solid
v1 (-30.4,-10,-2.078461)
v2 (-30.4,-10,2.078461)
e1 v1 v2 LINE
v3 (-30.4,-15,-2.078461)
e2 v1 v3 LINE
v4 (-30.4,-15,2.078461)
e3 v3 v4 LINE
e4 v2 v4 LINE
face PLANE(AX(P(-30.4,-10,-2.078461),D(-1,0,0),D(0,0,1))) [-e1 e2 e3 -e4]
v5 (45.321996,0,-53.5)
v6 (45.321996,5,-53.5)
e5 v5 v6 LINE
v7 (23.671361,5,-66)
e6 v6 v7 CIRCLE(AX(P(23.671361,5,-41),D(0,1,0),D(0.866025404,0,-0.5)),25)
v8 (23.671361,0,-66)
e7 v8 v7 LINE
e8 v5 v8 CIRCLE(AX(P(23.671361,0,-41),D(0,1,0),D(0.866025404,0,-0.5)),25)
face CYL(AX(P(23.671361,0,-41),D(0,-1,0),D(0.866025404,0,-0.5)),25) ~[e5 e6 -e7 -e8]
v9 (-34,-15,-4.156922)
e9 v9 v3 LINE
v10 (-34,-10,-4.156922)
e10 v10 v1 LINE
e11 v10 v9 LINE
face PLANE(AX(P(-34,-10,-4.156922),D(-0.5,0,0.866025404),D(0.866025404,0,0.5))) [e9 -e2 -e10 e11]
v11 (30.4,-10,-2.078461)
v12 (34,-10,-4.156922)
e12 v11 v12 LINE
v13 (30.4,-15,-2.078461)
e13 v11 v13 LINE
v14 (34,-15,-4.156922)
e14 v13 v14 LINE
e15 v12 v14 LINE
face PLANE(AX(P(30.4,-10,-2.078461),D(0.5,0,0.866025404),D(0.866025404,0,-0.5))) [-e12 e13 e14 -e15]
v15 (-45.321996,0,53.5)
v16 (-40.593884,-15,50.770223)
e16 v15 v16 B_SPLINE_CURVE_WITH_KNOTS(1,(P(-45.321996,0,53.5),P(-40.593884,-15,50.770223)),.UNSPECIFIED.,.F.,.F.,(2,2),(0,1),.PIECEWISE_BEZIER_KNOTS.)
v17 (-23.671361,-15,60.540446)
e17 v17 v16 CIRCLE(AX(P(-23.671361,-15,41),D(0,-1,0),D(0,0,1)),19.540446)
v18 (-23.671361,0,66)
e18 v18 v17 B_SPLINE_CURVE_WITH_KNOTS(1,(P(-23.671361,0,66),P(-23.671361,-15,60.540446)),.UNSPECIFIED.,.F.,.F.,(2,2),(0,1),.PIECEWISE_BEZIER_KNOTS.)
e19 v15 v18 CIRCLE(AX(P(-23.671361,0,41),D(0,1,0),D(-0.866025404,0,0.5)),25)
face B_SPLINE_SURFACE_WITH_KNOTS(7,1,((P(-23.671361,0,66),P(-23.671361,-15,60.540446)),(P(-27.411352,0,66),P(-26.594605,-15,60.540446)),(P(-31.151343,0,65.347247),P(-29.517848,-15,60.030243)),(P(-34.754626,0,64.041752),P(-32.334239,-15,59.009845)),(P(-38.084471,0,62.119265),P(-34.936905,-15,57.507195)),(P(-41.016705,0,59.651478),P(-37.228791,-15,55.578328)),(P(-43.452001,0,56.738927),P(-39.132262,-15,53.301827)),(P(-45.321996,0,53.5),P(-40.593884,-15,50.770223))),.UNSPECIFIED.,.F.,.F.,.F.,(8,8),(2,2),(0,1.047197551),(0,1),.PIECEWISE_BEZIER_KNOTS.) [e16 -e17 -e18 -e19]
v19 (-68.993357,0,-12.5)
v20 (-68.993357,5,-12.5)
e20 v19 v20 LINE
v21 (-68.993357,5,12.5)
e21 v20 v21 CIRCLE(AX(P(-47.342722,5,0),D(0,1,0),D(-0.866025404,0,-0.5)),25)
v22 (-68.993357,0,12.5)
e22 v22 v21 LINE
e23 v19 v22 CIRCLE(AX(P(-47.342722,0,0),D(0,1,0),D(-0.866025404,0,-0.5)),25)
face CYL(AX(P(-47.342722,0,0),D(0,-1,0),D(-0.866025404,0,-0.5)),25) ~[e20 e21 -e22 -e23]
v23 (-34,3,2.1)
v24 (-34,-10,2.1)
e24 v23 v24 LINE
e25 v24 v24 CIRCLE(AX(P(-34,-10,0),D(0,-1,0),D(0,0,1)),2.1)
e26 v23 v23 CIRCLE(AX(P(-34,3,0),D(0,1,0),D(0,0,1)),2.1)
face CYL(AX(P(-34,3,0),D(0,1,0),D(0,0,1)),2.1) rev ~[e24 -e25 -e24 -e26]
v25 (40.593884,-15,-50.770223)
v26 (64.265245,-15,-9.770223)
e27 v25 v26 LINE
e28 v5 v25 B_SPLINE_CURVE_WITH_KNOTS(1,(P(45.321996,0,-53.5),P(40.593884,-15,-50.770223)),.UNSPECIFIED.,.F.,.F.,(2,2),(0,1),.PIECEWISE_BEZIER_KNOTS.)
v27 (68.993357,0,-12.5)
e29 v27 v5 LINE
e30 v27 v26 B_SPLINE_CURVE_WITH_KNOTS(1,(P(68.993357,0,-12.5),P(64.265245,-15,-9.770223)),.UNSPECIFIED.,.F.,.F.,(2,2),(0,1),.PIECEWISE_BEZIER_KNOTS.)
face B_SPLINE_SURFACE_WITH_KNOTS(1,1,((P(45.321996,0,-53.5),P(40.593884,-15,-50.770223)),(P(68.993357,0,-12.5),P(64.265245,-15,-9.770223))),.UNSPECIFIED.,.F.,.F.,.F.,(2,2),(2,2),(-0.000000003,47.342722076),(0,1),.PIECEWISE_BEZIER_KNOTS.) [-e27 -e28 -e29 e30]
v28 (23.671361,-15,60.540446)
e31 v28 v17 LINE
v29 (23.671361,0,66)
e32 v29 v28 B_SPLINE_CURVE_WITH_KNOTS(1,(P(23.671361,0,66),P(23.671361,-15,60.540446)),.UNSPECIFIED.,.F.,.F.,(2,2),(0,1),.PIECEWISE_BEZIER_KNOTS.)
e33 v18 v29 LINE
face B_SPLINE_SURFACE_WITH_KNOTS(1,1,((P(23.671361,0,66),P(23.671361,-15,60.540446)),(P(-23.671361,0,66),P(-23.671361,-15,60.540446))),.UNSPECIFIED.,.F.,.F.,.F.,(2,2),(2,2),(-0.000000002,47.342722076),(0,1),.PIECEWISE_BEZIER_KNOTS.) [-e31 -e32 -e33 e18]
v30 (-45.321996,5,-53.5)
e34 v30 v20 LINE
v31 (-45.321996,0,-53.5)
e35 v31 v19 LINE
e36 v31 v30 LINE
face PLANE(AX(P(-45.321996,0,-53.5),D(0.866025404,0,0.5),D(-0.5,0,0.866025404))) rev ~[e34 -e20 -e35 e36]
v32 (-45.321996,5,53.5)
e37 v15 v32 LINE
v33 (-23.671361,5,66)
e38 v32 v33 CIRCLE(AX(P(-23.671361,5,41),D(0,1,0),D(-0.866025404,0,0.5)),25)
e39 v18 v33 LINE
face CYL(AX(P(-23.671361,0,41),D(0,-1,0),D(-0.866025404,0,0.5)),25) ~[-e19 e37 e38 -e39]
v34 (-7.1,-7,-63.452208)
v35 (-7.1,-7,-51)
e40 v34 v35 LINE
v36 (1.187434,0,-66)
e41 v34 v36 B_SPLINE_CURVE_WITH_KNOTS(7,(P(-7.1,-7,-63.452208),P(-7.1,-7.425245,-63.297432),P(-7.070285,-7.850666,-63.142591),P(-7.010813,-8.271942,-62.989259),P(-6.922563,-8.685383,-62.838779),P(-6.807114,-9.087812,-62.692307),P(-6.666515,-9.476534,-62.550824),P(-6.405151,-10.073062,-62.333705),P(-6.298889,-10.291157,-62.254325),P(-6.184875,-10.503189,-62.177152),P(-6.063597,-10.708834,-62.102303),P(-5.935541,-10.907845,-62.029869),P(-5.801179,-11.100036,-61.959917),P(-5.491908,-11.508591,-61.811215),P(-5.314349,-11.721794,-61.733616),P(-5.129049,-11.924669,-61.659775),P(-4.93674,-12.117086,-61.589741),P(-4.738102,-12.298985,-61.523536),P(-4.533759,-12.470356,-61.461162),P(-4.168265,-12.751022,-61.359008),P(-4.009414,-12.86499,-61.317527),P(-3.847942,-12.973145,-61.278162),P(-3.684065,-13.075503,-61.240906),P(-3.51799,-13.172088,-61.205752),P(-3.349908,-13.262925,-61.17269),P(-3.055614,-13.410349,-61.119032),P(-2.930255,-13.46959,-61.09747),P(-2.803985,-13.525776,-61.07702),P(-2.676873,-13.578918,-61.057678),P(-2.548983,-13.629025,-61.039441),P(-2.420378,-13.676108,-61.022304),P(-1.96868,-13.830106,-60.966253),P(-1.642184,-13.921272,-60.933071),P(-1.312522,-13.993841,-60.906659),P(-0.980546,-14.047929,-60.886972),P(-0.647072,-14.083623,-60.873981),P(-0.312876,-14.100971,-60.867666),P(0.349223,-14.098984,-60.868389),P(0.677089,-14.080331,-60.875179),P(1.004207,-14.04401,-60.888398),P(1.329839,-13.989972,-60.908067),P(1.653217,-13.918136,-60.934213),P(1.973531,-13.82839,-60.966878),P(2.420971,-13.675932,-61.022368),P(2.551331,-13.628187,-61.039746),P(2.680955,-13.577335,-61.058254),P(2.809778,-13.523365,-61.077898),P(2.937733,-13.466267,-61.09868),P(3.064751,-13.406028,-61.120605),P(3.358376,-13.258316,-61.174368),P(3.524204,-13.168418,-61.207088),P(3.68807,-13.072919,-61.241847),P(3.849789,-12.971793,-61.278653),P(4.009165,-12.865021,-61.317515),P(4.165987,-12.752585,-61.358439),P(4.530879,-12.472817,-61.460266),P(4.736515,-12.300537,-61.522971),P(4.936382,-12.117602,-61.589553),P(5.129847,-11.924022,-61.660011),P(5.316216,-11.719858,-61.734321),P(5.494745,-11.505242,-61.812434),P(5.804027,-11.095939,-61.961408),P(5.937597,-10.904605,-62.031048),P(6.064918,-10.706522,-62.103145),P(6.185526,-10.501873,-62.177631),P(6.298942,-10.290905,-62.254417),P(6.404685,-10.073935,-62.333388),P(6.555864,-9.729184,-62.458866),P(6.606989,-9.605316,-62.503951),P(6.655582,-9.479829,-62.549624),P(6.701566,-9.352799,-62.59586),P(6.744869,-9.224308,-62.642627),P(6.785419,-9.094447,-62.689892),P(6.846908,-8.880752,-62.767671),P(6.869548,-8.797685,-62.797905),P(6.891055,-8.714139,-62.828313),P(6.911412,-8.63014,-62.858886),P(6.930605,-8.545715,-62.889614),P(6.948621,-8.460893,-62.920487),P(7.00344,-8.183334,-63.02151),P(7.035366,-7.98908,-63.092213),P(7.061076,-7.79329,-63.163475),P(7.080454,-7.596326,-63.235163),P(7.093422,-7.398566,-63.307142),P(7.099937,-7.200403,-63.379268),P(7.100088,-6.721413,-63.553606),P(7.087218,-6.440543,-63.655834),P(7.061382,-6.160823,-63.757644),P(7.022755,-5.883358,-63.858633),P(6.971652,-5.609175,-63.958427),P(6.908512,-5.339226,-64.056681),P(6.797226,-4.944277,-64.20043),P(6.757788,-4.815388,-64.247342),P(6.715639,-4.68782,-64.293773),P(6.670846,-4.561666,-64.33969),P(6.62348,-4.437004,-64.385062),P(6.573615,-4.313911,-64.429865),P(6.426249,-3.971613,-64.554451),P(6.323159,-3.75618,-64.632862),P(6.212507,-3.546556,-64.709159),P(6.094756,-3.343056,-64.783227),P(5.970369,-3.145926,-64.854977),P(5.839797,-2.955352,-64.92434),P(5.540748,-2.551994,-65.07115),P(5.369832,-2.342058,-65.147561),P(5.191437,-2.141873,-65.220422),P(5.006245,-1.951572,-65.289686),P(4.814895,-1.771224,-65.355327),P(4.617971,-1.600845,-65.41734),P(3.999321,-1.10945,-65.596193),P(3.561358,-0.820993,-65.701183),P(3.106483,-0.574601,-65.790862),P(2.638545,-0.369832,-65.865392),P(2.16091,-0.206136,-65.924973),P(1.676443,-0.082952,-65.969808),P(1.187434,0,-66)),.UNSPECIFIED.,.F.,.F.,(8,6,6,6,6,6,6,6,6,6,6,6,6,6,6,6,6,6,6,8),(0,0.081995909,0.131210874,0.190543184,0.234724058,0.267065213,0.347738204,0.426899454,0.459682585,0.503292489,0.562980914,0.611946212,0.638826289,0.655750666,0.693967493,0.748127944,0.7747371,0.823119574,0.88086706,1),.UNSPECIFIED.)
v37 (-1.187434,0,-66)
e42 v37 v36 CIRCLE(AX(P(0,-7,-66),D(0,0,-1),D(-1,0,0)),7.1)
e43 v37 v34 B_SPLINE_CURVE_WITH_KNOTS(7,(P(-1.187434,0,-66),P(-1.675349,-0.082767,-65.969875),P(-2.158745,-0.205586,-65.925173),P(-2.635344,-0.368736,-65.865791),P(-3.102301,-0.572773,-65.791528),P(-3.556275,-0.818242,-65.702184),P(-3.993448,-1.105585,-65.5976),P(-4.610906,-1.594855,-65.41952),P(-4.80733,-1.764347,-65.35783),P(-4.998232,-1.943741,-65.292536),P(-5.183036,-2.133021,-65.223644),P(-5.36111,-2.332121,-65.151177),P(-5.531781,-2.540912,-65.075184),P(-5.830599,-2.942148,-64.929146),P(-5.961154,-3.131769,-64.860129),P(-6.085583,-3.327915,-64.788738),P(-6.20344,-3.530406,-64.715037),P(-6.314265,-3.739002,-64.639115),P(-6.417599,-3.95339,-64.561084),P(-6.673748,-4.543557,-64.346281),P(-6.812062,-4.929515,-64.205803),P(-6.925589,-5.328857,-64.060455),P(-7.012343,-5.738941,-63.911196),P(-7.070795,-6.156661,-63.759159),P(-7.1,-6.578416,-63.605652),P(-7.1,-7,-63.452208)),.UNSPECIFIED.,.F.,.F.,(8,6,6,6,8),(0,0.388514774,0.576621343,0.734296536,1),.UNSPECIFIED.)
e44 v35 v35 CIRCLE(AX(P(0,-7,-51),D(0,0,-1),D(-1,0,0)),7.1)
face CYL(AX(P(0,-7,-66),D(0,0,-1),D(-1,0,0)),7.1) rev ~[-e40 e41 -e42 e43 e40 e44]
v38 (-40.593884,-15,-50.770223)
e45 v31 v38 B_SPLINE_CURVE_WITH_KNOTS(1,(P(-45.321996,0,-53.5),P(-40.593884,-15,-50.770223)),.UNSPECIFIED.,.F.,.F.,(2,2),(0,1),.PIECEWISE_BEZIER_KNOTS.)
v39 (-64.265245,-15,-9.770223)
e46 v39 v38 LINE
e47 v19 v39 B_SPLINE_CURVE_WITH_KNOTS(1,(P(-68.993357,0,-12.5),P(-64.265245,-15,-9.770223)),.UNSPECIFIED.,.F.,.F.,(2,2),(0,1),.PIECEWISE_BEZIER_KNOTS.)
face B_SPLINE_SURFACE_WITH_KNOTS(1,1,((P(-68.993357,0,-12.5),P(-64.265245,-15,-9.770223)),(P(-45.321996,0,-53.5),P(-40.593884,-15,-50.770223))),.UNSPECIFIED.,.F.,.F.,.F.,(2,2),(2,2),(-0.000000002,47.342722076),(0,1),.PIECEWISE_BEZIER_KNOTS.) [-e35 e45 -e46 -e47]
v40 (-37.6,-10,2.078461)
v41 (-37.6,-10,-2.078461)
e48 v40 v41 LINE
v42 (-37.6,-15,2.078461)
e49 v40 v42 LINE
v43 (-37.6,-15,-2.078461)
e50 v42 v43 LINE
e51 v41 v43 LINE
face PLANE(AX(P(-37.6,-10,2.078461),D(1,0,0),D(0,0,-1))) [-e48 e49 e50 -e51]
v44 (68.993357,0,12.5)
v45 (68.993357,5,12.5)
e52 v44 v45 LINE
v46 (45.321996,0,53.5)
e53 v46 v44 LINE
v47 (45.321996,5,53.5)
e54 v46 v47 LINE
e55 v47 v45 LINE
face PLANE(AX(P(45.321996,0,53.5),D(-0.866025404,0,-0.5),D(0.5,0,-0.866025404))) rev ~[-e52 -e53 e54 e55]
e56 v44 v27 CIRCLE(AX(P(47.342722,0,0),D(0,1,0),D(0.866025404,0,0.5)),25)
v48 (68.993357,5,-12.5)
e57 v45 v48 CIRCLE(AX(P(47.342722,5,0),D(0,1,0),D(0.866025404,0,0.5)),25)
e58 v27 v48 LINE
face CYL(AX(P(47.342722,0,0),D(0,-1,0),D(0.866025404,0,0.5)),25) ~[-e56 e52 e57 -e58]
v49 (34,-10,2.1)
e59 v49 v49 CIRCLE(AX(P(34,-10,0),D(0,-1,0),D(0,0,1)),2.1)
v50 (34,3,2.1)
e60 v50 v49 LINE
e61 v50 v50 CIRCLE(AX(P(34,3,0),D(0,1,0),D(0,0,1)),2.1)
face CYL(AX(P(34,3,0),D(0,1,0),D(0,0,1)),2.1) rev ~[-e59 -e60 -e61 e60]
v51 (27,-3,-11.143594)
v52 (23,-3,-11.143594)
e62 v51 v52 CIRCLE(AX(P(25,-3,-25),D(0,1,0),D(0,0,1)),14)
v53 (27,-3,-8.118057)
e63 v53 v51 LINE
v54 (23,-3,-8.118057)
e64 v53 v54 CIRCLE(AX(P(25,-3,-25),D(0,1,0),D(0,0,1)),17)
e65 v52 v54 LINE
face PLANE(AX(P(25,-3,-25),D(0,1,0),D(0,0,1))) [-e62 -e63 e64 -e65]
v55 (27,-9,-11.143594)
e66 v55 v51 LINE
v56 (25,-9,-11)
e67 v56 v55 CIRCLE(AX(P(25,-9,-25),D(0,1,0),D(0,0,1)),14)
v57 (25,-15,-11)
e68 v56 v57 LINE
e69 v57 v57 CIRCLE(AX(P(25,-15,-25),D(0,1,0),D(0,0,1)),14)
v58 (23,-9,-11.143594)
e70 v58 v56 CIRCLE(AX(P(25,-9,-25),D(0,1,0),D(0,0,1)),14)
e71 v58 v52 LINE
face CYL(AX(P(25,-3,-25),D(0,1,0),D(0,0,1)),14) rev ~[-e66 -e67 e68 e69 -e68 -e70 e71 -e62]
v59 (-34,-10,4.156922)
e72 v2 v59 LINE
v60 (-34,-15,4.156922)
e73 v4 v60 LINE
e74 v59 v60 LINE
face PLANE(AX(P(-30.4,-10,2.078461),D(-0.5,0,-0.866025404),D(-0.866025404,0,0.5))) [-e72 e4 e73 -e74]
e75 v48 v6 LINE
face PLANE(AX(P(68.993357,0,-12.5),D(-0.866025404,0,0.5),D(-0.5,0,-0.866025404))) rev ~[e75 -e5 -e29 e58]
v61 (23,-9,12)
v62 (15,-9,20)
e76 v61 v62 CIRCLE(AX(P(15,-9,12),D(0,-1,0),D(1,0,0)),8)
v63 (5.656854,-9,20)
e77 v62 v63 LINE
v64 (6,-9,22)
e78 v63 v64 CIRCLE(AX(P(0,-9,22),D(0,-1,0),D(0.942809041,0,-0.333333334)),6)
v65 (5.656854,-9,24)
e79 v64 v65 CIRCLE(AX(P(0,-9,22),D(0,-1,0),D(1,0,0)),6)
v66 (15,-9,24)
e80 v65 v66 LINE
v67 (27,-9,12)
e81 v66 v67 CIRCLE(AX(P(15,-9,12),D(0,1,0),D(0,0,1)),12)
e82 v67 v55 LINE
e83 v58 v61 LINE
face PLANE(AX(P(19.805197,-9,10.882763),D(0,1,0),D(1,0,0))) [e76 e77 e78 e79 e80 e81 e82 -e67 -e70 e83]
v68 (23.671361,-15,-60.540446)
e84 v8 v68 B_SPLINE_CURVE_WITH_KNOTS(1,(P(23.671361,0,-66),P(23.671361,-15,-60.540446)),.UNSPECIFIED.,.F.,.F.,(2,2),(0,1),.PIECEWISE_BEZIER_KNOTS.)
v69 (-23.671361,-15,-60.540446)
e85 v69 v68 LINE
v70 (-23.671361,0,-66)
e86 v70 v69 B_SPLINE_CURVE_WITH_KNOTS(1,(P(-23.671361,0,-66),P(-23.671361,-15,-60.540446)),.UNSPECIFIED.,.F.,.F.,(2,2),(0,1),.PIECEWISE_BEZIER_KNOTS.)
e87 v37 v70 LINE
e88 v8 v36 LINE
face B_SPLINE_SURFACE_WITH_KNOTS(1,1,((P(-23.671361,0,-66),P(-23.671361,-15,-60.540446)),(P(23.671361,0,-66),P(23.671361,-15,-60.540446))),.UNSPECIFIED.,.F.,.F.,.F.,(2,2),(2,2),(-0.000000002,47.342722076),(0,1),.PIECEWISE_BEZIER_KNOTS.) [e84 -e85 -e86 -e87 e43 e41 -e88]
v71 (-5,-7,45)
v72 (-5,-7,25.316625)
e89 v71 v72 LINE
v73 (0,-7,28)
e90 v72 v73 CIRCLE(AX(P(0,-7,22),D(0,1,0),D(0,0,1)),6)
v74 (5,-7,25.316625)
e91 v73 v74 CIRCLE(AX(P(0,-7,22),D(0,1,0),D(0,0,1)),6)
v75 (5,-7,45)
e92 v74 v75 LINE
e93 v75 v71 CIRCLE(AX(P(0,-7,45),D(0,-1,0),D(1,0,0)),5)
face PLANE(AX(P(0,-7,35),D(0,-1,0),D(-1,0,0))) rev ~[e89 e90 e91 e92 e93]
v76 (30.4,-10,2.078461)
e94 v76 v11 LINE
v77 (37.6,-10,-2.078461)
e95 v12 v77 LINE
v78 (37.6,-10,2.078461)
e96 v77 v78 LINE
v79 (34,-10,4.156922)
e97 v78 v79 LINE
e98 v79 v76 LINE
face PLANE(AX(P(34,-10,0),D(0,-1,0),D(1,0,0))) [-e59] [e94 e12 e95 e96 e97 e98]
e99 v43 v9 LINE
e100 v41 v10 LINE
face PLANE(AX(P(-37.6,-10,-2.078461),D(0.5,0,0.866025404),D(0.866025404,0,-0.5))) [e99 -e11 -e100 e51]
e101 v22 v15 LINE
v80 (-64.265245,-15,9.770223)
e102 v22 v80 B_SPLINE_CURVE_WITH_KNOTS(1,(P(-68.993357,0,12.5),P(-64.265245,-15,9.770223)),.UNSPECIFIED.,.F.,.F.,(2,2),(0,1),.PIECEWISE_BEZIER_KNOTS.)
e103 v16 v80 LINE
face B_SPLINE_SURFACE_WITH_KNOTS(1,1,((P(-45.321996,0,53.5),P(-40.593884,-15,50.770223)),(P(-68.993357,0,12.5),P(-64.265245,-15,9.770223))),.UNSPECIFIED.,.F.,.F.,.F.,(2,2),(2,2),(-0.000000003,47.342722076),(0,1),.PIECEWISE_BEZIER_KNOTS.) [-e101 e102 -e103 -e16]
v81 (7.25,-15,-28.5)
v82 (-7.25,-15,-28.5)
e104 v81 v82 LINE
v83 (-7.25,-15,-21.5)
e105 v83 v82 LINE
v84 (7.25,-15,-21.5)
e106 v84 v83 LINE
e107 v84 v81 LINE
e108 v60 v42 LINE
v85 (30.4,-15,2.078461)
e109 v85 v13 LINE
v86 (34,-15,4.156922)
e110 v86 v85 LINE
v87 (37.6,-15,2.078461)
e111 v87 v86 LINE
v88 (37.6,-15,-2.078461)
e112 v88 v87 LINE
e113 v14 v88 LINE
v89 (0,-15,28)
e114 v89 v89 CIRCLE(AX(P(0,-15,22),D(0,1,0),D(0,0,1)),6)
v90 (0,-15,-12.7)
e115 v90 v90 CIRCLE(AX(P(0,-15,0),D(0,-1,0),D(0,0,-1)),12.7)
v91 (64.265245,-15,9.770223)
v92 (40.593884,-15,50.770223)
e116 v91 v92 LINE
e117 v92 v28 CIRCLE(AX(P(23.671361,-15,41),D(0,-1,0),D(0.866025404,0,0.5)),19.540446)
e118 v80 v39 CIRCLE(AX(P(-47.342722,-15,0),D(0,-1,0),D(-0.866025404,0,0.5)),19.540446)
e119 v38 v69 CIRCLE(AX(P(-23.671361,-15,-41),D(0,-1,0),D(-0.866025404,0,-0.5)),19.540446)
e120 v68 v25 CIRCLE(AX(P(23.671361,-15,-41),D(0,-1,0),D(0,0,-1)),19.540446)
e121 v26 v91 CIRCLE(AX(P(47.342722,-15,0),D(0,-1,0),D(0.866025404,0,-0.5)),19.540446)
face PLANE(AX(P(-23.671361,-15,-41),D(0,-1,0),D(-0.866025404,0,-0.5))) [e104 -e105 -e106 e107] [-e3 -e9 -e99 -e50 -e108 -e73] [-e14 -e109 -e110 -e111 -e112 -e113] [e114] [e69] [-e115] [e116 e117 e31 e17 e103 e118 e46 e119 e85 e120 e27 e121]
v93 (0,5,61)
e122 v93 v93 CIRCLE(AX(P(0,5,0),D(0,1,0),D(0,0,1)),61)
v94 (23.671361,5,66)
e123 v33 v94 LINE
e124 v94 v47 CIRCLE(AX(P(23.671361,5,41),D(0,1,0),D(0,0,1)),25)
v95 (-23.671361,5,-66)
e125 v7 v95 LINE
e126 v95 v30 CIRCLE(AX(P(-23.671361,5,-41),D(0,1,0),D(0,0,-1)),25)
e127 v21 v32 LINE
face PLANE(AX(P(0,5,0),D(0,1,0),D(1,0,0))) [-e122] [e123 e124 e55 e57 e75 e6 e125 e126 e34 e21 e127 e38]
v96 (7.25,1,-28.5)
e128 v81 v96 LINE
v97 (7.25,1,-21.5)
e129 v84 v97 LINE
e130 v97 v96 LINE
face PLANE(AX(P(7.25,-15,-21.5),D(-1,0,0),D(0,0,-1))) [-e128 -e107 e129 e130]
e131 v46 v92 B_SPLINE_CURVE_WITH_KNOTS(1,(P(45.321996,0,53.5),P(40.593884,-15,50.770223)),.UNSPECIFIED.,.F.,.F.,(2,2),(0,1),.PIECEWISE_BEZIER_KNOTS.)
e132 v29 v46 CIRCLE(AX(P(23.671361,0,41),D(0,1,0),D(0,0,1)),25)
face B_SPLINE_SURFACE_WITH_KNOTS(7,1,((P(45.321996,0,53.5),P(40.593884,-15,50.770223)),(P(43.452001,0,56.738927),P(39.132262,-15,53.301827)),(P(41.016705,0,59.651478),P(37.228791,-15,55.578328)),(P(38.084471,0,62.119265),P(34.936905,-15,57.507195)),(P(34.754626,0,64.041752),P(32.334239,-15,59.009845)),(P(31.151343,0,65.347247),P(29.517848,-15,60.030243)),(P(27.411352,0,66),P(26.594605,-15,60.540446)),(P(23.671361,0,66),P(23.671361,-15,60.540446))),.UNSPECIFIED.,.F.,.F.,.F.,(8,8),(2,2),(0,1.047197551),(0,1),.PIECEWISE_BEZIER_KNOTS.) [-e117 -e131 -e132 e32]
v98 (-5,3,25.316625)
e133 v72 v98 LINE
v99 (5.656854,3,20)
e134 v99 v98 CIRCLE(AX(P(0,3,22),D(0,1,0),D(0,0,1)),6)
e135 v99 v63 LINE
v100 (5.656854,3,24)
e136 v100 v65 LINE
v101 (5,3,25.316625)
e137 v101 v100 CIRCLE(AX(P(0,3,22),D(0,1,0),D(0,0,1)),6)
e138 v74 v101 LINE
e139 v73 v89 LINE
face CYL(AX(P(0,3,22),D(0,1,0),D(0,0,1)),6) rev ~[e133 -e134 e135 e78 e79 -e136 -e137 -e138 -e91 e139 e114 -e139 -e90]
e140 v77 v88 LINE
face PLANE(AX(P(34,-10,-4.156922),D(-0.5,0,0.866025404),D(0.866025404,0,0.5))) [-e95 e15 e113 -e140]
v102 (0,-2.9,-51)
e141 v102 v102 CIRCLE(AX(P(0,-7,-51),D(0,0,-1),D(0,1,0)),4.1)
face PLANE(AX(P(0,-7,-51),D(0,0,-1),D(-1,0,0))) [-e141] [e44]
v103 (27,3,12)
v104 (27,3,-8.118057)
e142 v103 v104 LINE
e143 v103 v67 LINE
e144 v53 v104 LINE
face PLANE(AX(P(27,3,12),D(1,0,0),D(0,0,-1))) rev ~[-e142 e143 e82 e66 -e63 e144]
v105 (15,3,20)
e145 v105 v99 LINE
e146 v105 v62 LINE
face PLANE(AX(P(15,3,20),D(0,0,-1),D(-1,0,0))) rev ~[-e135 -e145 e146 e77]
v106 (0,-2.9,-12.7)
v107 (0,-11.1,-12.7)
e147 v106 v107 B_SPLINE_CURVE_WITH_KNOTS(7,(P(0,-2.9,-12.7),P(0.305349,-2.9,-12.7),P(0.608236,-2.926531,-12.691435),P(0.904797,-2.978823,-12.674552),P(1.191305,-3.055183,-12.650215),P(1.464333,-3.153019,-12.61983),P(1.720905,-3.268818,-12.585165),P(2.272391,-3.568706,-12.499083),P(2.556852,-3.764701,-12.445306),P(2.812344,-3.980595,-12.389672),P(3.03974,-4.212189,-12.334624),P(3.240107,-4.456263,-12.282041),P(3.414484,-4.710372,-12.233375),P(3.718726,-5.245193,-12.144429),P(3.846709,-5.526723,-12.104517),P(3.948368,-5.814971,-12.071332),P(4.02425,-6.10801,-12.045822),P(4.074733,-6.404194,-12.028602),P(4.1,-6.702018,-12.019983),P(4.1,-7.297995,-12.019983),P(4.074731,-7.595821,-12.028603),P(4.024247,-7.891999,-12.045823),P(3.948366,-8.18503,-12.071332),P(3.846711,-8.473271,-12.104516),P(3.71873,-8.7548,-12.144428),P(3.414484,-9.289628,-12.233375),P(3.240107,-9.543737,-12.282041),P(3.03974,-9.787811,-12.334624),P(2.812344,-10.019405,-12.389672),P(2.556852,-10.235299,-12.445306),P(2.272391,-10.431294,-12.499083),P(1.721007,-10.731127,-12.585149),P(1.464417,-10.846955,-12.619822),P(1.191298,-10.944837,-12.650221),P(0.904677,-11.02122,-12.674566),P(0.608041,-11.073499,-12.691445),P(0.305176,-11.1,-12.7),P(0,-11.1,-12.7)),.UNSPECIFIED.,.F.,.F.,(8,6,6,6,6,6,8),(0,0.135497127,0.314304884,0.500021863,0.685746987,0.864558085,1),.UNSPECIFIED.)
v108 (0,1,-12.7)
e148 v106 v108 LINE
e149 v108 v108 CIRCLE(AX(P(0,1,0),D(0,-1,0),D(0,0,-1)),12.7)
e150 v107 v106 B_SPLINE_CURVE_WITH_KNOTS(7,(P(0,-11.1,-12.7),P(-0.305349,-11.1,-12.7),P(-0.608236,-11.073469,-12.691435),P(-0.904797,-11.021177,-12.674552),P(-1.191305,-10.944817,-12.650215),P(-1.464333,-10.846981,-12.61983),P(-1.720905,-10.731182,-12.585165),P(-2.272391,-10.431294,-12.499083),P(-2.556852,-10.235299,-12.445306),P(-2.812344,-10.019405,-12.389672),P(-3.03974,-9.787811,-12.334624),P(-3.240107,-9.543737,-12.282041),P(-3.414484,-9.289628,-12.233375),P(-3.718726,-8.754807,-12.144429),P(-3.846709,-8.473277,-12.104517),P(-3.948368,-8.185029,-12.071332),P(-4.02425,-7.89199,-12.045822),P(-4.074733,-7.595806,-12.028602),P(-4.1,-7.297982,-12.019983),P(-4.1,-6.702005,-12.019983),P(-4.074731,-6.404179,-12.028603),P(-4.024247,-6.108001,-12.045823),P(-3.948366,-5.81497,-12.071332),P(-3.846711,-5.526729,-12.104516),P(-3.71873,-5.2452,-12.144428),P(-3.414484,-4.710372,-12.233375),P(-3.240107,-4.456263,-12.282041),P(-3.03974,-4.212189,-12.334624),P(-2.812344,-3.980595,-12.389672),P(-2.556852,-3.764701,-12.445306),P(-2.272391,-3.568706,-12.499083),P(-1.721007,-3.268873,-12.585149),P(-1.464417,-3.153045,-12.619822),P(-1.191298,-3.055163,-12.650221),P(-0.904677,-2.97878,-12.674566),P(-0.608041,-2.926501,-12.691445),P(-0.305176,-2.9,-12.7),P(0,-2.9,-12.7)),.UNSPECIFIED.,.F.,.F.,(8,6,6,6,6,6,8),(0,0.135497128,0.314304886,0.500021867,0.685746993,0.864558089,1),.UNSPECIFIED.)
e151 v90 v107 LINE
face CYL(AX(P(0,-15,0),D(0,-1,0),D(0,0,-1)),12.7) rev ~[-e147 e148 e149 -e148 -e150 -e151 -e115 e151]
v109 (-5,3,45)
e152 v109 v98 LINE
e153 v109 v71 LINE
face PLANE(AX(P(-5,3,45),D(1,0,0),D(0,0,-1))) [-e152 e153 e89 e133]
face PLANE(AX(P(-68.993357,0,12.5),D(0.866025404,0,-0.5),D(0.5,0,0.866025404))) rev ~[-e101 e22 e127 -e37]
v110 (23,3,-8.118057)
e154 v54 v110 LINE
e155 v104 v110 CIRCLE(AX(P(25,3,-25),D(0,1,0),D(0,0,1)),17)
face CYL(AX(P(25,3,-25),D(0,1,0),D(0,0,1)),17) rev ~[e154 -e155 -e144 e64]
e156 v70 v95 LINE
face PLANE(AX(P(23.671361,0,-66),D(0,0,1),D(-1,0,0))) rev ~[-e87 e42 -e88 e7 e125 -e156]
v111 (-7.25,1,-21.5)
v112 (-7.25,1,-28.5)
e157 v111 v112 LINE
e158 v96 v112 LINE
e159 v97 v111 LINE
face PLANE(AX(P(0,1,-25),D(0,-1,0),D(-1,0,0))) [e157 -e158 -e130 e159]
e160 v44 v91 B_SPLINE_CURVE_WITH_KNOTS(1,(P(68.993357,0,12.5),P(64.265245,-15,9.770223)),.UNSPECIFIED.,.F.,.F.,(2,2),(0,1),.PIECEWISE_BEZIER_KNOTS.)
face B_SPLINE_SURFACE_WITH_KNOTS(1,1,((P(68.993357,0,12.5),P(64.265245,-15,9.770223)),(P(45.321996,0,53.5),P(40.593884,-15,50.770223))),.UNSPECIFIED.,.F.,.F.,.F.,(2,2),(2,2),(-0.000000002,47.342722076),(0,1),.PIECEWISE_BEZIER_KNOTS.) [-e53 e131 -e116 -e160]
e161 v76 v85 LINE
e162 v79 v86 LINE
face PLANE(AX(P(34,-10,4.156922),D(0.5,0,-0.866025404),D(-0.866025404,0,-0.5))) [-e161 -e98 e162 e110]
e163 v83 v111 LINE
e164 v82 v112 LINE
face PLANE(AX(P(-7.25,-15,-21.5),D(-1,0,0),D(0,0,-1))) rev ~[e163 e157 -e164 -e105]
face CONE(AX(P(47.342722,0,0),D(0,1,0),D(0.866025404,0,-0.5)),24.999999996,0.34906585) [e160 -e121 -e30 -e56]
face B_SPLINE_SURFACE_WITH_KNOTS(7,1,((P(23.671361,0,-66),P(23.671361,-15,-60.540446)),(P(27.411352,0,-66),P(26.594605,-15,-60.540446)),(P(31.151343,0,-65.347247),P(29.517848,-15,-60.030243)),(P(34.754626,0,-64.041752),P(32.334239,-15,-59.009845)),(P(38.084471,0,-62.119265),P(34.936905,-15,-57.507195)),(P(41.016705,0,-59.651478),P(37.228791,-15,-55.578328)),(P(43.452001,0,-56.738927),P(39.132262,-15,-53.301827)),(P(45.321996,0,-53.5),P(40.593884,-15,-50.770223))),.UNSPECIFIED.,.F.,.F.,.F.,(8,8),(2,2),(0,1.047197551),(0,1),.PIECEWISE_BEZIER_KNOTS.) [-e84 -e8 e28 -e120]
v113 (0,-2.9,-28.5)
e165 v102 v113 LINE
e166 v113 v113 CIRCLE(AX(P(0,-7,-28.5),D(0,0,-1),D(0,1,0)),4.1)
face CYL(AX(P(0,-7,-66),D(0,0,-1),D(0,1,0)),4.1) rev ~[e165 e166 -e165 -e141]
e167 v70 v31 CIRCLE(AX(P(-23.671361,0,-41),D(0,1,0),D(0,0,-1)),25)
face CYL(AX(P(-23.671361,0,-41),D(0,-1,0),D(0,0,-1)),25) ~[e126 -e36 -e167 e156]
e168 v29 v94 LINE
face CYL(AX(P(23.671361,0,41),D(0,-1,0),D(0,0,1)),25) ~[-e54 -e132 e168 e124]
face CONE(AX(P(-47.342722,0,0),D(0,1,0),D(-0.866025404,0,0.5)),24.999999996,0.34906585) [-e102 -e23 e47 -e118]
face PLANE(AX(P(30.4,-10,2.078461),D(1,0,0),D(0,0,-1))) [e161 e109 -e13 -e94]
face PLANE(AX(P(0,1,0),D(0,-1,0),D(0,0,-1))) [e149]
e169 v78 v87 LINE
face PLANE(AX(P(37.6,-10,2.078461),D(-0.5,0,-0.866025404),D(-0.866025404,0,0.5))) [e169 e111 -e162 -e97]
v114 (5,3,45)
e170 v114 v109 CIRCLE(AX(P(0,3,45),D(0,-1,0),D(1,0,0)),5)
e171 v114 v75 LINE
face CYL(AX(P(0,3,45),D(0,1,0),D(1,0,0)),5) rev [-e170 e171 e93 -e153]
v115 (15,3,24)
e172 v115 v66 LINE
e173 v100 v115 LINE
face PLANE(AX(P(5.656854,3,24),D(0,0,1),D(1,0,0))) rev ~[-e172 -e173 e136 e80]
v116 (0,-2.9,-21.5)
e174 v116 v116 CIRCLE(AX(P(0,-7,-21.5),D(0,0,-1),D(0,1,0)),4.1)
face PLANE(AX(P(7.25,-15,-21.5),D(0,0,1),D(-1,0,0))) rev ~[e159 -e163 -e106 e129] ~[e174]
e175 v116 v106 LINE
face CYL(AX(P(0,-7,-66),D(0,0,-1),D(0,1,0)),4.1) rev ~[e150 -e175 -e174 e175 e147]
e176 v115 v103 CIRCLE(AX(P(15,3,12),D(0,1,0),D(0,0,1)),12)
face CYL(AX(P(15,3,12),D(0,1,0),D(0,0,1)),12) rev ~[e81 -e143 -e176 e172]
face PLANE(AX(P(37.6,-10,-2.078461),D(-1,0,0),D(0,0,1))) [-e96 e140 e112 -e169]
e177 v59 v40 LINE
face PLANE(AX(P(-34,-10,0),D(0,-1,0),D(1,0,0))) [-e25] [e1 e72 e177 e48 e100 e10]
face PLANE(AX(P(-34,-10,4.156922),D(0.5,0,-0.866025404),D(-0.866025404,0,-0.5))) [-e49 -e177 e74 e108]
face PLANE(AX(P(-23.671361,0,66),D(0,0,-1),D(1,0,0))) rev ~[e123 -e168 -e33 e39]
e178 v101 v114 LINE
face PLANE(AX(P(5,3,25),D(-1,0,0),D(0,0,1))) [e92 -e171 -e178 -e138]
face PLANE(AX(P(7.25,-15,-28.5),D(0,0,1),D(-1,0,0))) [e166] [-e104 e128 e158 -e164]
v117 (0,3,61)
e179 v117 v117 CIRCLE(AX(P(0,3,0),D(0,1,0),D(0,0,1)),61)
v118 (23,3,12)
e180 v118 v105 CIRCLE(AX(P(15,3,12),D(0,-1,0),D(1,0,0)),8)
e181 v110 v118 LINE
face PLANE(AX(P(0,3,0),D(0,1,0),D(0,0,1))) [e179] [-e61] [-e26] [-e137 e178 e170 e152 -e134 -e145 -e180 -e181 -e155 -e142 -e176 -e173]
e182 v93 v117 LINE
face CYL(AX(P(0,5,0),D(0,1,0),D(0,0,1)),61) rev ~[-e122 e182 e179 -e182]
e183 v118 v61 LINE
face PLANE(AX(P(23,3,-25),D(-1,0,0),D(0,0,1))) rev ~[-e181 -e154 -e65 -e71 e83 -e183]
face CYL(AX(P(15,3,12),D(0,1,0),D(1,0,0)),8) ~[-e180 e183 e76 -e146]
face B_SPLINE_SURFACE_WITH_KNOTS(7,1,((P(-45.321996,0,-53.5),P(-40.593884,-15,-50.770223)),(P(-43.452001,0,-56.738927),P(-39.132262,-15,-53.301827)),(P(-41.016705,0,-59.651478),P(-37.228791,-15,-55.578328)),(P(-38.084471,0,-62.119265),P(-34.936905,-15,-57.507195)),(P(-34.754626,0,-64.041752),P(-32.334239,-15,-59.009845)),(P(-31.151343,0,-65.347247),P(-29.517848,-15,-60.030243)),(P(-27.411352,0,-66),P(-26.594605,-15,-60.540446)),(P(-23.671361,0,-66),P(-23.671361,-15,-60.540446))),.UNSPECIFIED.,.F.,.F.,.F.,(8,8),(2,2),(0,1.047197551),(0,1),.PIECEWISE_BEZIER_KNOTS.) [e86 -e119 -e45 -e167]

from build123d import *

# Parameters (mm, degrees)
BOSS_EXTRUDE1_DEPTH = 5
BOSS_EXTRUDE2_DEPTH = 15
BOSS_EXTRUDE2_TAPER = 20
SKETCH3_R           = 61
CUT_EXTRUDE1_DEPTH  = 2
SKETCH4_R           = 17
CUT_EXTRUDE2_DEPTH  = 6
CUT_EXTRUDE3_REACH  = 100.658
SKETCH7_R           = 14
SKETCH8_R           = 12.7
CUT_EXTRUDE4_DEPTH  = 16
SKETCH9_R           = 2.1
CUT_EXTRUDE5_DEPTH  = 20
SKETCH12_R          = 4.1
CUT_EXTRUDE7_DEPTH  = 60
SKETCH13_R          = 7.1
CUT_EXTRUDE8_DEPTH  = 15
SKETCH14_W          = 14.5
SKETCH14_H          = 7
CUT_EXTRUDE9_DEPTH  = 16
CUT_EXTRUDE10_START = -5
SKETCH15_R          = 2.1
CUT_EXTRUDE10_DEPTH = 5
CUT_EXTRUDE11_REACH = 101.566
SKETCH16_R          = 6
CUT_EXTRUDE12_DEPTH = 12
CUT_EXTRUDE13_DEPTH = 10


with BuildPart() as part:
    # Sketch1 → Boss-Extrude1 (new body)
    with BuildSketch(Plane(origin=(0, 0, 0), x_dir=(1, 0, 0), z_dir=(0, 1, 0))):
        with BuildLine():
            Line((68.993357168, 12.5), (45.321996131, 53.5))
            ThreePointArc((45.321996131, 53.5), (36.171361037, 62.650635095), (23.671361037, 66))
            Line((23.671361037, 66), (-23.671361037, 66))
            ThreePointArc((-23.671361037, 66), (-36.171361037, 62.650635095), (-45.321996131, 53.5))
            Line((-45.321996131, 53.5), (-68.993357168, 12.5))
            ThreePointArc((-68.993357168, 12.5), (-72.342722074, 0), (-68.993357168, -12.5))
            Line((-68.993357168, -12.5), (-45.321996131, -53.5))
            ThreePointArc((-45.321996131, -53.5), (-36.171361037, -62.650635095), (-23.671361037, -66))
            Line((-23.671361037, -66), (23.671361037, -66))
            ThreePointArc((23.671361037, -66), (36.171361037, -62.650635095), (45.321996131, -53.5))
            Line((45.321996131, -53.5), (68.993357168, -12.5))
            ThreePointArc((68.993357168, -12.5), (72.342722074, 0), (68.993357168, 12.5))
        make_face()
    extrude(amount=BOSS_EXTRUDE1_DEPTH)

    # Sketch2 → Boss-Extrude2 (add)
    with BuildSketch(Plane.XZ):
        with BuildLine():
            Line((-68.993357168, -12.5), (-45.321996131, -53.5))
            ThreePointArc((-45.321996131, -53.5), (-36.171361037, -62.650635095), (-23.671361037, -66))
            Line((-23.671361037, -66), (23.671361037, -66))
            ThreePointArc((23.671361037, -66), (36.171361037, -62.650635095), (45.321996131, -53.5))
            Line((45.321996131, -53.5), (68.993357168, -12.5))
            ThreePointArc((68.993357168, -12.5), (72.342722074, 0), (68.993357168, 12.5))
            Line((68.993357168, 12.5), (45.321996131, 53.5))
            ThreePointArc((45.321996131, 53.5), (36.171361037, 62.650635095), (23.671361037, 66))
            Line((23.671361037, 66), (-23.671361037, 66))
            ThreePointArc((-23.671361037, 66), (-36.171361037, 62.650635095), (-45.321996131, 53.5))
            Line((-45.321996131, 53.5), (-68.993357168, 12.5))
            ThreePointArc((-68.993357168, 12.5), (-72.342722074, 0), (-68.993357168, -12.5))
        make_face()
    extrude(amount=BOSS_EXTRUDE2_DEPTH, taper=BOSS_EXTRUDE2_TAPER)

    # Sketch3 → Cut-Extrude1 (cut)
    with BuildSketch(Plane(origin=(0, 5, 0), x_dir=(1, 0, 0), z_dir=(0, 1, 0))):
        with Locations(Location((0, 0, 0), (0, 0, 270))):
            Circle(SKETCH3_R)
    extrude(amount=-CUT_EXTRUDE1_DEPTH, mode=Mode.SUBTRACT)

    # Sketch4 → Cut-Extrude2 (cut)
    with BuildSketch(Plane(origin=(0, 3, 0), x_dir=(1, 0, 0), z_dir=(0, 1, 0))):
        with Locations(Location((25, 25, 0), (0, 0, 270))):
            Circle(SKETCH4_R)
    extrude(amount=-CUT_EXTRUDE2_DEPTH, mode=Mode.SUBTRACT)

    # Sketch7 → Cut-Extrude3 (cut, up to next)
    with BuildSketch(Plane(origin=(0, -3, 0), x_dir=(1, 0, 0), z_dir=(0, 1, 0)), mode=Mode.PRIVATE) as cut_extrude3_sk1:
        with Locations(Location((25, 25, 0), (0, 0, 270))):
            Circle(SKETCH7_R)
    cut_extrude3_tool1 = extrude(cut_extrude3_sk1.sketch, amount=-CUT_EXTRUDE3_REACH, mode=Mode.PRIVATE) & part.part
    add(cut_extrude3_tool1.solids().sort_by_distance((25, -3, -25))[0], mode=Mode.SUBTRACT)

    # Sketch8 → Cut-Extrude4 (cut)
    with BuildSketch(Plane(origin=(0, -15, 0), x_dir=(-1, 0, 0), z_dir=(0, -1, 0))):
        with Locations(Location((0, 0, 0), (0, 0, 90))):
            Circle(SKETCH8_R)
    extrude(amount=-CUT_EXTRUDE4_DEPTH, mode=Mode.SUBTRACT)

    # Sketch9 → Cut-Extrude5 (cut)
    with BuildSketch(Plane(origin=(0, 3, 0), x_dir=(1, 0, 0), z_dir=(0, 1, 0))):
        with Locations(Location((34, 0, 0), (0, 0, 270))):
            Circle(SKETCH9_R)
        with Locations(Location((-34, 0, 0), (0, 0, 270))):
            Circle(SKETCH9_R)
    extrude(amount=-CUT_EXTRUDE5_DEPTH, mode=Mode.SUBTRACT)

    # Sketch12 → Cut-Extrude7 (cut)
    with BuildSketch(Plane(origin=(0, 0, -66), x_dir=(-1, 0, 0), z_dir=(0, 0, -1))):
        with Locations(Location((0, -7, 0), (0, 0, 90))):
            Circle(SKETCH12_R)
    extrude(amount=-CUT_EXTRUDE7_DEPTH, mode=Mode.SUBTRACT)

    # Sketch13 → Cut-Extrude8 (cut)
    with BuildSketch(Plane(origin=(0, 0, -66), x_dir=(-1, 0, 0), z_dir=(0, 0, -1))):
        with Locations((0, -7)):
            Circle(SKETCH13_R)
    extrude(amount=-CUT_EXTRUDE8_DEPTH, mode=Mode.SUBTRACT)

    # Sketch14 → Cut-Extrude9 (cut)
    with BuildSketch(Plane(origin=(0, -15, 0), x_dir=(-1, 0, 0), z_dir=(0, -1, 0))):
        with Locations((0, 25)):
            Rectangle(SKETCH14_W, SKETCH14_H)
    extrude(amount=-CUT_EXTRUDE9_DEPTH, mode=Mode.SUBTRACT)

    # Sketch15 → Cut-Extrude10 (cut)
    # profile 1 of 2: a face of its own
    with BuildSketch(Plane.XZ.offset(15).offset(CUT_EXTRUDE10_START)):
        Polygon((-34, 4.156921938), (-37.6, 2.078460969), (-37.6, -2.078460969), (-34, -4.156921938), (-30.4, -2.078460969), (-30.4, 2.078460969), align=None)
        with Locations(Location((-34, 0, 0), (0, 0, 90))):
            Circle(SKETCH15_R, mode=Mode.SUBTRACT)
    # profile 2 of 2: a face of its own
    with BuildSketch(Plane.XZ.offset(15).offset(CUT_EXTRUDE10_START)):
        Polygon((34, 4.156921938), (30.4, 2.078460969), (30.4, -2.078460969), (34, -4.156921938), (37.6, -2.078460969), (37.6, 2.078460969), align=None)
        with Locations(Location((34, 0, 0), (0, 0, 90))):
            Circle(SKETCH15_R, mode=Mode.SUBTRACT)
    extrude(amount=CUT_EXTRUDE10_DEPTH, mode=Mode.SUBTRACT)

    # Sketch16 → Cut-Extrude11 (cut, up to next)
    with BuildSketch(Plane(origin=(0, 3, 0), x_dir=(1, 0, 0), z_dir=(0, 1, 0)), mode=Mode.PRIVATE) as cut_extrude11_sk1:
        with Locations(Location((0, -22, 0), (0, 0, 270))):
            Circle(SKETCH16_R)
    cut_extrude11_tool1 = extrude(cut_extrude11_sk1.sketch, amount=-CUT_EXTRUDE11_REACH, mode=Mode.PRIVATE) & part.part
    add(cut_extrude11_tool1.solids().sort_by_distance((0, 3, 22))[0], mode=Mode.SUBTRACT)

    # Sketch17 → Cut-Extrude12 (cut)
    with BuildSketch(Plane(origin=(0, 3, 0), x_dir=(1, 0, 0), z_dir=(0, 1, 0))):
        with BuildLine():
            Line((25, -12), (25, 8))
            ThreePointArc((25, 8), (23.998259334, 8.029539911), (23, 8.118056984))
            Line((23, 8.118056984), (23, -12))
            ThreePointArc((23, -12), (20.656854249, -17.656854249), (15, -20))
            Line((15, -20), (5.656854249, -20))
            ThreePointArc((5.656854249, -20), (5.913591358, -20.985388128), (6, -22))
            Line((6, -22), (15, -22))
            ThreePointArc((15, -22), (22.071067812, -19.071067812), (25, -12))
        make_face()
        with BuildLine():
            ThreePointArc((27, 8.118056984), (26.001740666, 8.029539911), (25, 8))
            Line((25, 8), (25, -12))
            ThreePointArc((25, -12), (22.071067812, -19.071067812), (15, -22))
            Line((15, -22), (6, -22))
            ThreePointArc((6, -22), (5.913591358, -23.014611872), (5.656854249, -24))
            Line((5.656854249, -24), (15, -24))
            ThreePointArc((15, -24), (23.485281374, -20.485281374), (27, -12))
            Line((27, -12), (27, 8.118056984))
        make_face()
        with BuildLine():
            Line((25, 8), (25, 25))
            Line((25, 25), (23, 25))
            Line((23, 25), (23, 8.118056984))
            ThreePointArc((23, 8.118056984), (23.998259334, 8.029539911), (25, 8))
        make_face()
        with BuildLine():
            Line((27, 25), (25, 25))
            Line((25, 25), (25, 8))
            ThreePointArc((25, 8), (26.001740666, 8.029539911), (27, 8.118056984))
            Line((27, 8.118056984), (27, 25))
        make_face()
    extrude(amount=-CUT_EXTRUDE12_DEPTH, mode=Mode.SUBTRACT)

    # Sketch18 → Cut-Extrude13 (cut)
    with BuildSketch(Plane(origin=(0, 3, 0), x_dir=(1, 0, 0), z_dir=(0, 1, 0))):
        with BuildLine():
            Line((5, -25), (5, -45))
            ThreePointArc((5, -45), (0, -50), (-5, -45))
            Line((-5, -45), (-5, -25))
            ThreePointArc((-5, -25), (0, -20), (5, -25))
        make_face()
    extrude(amount=-CUT_EXTRUDE13_DEPTH, mode=Mode.SUBTRACT)


solid = part.part
